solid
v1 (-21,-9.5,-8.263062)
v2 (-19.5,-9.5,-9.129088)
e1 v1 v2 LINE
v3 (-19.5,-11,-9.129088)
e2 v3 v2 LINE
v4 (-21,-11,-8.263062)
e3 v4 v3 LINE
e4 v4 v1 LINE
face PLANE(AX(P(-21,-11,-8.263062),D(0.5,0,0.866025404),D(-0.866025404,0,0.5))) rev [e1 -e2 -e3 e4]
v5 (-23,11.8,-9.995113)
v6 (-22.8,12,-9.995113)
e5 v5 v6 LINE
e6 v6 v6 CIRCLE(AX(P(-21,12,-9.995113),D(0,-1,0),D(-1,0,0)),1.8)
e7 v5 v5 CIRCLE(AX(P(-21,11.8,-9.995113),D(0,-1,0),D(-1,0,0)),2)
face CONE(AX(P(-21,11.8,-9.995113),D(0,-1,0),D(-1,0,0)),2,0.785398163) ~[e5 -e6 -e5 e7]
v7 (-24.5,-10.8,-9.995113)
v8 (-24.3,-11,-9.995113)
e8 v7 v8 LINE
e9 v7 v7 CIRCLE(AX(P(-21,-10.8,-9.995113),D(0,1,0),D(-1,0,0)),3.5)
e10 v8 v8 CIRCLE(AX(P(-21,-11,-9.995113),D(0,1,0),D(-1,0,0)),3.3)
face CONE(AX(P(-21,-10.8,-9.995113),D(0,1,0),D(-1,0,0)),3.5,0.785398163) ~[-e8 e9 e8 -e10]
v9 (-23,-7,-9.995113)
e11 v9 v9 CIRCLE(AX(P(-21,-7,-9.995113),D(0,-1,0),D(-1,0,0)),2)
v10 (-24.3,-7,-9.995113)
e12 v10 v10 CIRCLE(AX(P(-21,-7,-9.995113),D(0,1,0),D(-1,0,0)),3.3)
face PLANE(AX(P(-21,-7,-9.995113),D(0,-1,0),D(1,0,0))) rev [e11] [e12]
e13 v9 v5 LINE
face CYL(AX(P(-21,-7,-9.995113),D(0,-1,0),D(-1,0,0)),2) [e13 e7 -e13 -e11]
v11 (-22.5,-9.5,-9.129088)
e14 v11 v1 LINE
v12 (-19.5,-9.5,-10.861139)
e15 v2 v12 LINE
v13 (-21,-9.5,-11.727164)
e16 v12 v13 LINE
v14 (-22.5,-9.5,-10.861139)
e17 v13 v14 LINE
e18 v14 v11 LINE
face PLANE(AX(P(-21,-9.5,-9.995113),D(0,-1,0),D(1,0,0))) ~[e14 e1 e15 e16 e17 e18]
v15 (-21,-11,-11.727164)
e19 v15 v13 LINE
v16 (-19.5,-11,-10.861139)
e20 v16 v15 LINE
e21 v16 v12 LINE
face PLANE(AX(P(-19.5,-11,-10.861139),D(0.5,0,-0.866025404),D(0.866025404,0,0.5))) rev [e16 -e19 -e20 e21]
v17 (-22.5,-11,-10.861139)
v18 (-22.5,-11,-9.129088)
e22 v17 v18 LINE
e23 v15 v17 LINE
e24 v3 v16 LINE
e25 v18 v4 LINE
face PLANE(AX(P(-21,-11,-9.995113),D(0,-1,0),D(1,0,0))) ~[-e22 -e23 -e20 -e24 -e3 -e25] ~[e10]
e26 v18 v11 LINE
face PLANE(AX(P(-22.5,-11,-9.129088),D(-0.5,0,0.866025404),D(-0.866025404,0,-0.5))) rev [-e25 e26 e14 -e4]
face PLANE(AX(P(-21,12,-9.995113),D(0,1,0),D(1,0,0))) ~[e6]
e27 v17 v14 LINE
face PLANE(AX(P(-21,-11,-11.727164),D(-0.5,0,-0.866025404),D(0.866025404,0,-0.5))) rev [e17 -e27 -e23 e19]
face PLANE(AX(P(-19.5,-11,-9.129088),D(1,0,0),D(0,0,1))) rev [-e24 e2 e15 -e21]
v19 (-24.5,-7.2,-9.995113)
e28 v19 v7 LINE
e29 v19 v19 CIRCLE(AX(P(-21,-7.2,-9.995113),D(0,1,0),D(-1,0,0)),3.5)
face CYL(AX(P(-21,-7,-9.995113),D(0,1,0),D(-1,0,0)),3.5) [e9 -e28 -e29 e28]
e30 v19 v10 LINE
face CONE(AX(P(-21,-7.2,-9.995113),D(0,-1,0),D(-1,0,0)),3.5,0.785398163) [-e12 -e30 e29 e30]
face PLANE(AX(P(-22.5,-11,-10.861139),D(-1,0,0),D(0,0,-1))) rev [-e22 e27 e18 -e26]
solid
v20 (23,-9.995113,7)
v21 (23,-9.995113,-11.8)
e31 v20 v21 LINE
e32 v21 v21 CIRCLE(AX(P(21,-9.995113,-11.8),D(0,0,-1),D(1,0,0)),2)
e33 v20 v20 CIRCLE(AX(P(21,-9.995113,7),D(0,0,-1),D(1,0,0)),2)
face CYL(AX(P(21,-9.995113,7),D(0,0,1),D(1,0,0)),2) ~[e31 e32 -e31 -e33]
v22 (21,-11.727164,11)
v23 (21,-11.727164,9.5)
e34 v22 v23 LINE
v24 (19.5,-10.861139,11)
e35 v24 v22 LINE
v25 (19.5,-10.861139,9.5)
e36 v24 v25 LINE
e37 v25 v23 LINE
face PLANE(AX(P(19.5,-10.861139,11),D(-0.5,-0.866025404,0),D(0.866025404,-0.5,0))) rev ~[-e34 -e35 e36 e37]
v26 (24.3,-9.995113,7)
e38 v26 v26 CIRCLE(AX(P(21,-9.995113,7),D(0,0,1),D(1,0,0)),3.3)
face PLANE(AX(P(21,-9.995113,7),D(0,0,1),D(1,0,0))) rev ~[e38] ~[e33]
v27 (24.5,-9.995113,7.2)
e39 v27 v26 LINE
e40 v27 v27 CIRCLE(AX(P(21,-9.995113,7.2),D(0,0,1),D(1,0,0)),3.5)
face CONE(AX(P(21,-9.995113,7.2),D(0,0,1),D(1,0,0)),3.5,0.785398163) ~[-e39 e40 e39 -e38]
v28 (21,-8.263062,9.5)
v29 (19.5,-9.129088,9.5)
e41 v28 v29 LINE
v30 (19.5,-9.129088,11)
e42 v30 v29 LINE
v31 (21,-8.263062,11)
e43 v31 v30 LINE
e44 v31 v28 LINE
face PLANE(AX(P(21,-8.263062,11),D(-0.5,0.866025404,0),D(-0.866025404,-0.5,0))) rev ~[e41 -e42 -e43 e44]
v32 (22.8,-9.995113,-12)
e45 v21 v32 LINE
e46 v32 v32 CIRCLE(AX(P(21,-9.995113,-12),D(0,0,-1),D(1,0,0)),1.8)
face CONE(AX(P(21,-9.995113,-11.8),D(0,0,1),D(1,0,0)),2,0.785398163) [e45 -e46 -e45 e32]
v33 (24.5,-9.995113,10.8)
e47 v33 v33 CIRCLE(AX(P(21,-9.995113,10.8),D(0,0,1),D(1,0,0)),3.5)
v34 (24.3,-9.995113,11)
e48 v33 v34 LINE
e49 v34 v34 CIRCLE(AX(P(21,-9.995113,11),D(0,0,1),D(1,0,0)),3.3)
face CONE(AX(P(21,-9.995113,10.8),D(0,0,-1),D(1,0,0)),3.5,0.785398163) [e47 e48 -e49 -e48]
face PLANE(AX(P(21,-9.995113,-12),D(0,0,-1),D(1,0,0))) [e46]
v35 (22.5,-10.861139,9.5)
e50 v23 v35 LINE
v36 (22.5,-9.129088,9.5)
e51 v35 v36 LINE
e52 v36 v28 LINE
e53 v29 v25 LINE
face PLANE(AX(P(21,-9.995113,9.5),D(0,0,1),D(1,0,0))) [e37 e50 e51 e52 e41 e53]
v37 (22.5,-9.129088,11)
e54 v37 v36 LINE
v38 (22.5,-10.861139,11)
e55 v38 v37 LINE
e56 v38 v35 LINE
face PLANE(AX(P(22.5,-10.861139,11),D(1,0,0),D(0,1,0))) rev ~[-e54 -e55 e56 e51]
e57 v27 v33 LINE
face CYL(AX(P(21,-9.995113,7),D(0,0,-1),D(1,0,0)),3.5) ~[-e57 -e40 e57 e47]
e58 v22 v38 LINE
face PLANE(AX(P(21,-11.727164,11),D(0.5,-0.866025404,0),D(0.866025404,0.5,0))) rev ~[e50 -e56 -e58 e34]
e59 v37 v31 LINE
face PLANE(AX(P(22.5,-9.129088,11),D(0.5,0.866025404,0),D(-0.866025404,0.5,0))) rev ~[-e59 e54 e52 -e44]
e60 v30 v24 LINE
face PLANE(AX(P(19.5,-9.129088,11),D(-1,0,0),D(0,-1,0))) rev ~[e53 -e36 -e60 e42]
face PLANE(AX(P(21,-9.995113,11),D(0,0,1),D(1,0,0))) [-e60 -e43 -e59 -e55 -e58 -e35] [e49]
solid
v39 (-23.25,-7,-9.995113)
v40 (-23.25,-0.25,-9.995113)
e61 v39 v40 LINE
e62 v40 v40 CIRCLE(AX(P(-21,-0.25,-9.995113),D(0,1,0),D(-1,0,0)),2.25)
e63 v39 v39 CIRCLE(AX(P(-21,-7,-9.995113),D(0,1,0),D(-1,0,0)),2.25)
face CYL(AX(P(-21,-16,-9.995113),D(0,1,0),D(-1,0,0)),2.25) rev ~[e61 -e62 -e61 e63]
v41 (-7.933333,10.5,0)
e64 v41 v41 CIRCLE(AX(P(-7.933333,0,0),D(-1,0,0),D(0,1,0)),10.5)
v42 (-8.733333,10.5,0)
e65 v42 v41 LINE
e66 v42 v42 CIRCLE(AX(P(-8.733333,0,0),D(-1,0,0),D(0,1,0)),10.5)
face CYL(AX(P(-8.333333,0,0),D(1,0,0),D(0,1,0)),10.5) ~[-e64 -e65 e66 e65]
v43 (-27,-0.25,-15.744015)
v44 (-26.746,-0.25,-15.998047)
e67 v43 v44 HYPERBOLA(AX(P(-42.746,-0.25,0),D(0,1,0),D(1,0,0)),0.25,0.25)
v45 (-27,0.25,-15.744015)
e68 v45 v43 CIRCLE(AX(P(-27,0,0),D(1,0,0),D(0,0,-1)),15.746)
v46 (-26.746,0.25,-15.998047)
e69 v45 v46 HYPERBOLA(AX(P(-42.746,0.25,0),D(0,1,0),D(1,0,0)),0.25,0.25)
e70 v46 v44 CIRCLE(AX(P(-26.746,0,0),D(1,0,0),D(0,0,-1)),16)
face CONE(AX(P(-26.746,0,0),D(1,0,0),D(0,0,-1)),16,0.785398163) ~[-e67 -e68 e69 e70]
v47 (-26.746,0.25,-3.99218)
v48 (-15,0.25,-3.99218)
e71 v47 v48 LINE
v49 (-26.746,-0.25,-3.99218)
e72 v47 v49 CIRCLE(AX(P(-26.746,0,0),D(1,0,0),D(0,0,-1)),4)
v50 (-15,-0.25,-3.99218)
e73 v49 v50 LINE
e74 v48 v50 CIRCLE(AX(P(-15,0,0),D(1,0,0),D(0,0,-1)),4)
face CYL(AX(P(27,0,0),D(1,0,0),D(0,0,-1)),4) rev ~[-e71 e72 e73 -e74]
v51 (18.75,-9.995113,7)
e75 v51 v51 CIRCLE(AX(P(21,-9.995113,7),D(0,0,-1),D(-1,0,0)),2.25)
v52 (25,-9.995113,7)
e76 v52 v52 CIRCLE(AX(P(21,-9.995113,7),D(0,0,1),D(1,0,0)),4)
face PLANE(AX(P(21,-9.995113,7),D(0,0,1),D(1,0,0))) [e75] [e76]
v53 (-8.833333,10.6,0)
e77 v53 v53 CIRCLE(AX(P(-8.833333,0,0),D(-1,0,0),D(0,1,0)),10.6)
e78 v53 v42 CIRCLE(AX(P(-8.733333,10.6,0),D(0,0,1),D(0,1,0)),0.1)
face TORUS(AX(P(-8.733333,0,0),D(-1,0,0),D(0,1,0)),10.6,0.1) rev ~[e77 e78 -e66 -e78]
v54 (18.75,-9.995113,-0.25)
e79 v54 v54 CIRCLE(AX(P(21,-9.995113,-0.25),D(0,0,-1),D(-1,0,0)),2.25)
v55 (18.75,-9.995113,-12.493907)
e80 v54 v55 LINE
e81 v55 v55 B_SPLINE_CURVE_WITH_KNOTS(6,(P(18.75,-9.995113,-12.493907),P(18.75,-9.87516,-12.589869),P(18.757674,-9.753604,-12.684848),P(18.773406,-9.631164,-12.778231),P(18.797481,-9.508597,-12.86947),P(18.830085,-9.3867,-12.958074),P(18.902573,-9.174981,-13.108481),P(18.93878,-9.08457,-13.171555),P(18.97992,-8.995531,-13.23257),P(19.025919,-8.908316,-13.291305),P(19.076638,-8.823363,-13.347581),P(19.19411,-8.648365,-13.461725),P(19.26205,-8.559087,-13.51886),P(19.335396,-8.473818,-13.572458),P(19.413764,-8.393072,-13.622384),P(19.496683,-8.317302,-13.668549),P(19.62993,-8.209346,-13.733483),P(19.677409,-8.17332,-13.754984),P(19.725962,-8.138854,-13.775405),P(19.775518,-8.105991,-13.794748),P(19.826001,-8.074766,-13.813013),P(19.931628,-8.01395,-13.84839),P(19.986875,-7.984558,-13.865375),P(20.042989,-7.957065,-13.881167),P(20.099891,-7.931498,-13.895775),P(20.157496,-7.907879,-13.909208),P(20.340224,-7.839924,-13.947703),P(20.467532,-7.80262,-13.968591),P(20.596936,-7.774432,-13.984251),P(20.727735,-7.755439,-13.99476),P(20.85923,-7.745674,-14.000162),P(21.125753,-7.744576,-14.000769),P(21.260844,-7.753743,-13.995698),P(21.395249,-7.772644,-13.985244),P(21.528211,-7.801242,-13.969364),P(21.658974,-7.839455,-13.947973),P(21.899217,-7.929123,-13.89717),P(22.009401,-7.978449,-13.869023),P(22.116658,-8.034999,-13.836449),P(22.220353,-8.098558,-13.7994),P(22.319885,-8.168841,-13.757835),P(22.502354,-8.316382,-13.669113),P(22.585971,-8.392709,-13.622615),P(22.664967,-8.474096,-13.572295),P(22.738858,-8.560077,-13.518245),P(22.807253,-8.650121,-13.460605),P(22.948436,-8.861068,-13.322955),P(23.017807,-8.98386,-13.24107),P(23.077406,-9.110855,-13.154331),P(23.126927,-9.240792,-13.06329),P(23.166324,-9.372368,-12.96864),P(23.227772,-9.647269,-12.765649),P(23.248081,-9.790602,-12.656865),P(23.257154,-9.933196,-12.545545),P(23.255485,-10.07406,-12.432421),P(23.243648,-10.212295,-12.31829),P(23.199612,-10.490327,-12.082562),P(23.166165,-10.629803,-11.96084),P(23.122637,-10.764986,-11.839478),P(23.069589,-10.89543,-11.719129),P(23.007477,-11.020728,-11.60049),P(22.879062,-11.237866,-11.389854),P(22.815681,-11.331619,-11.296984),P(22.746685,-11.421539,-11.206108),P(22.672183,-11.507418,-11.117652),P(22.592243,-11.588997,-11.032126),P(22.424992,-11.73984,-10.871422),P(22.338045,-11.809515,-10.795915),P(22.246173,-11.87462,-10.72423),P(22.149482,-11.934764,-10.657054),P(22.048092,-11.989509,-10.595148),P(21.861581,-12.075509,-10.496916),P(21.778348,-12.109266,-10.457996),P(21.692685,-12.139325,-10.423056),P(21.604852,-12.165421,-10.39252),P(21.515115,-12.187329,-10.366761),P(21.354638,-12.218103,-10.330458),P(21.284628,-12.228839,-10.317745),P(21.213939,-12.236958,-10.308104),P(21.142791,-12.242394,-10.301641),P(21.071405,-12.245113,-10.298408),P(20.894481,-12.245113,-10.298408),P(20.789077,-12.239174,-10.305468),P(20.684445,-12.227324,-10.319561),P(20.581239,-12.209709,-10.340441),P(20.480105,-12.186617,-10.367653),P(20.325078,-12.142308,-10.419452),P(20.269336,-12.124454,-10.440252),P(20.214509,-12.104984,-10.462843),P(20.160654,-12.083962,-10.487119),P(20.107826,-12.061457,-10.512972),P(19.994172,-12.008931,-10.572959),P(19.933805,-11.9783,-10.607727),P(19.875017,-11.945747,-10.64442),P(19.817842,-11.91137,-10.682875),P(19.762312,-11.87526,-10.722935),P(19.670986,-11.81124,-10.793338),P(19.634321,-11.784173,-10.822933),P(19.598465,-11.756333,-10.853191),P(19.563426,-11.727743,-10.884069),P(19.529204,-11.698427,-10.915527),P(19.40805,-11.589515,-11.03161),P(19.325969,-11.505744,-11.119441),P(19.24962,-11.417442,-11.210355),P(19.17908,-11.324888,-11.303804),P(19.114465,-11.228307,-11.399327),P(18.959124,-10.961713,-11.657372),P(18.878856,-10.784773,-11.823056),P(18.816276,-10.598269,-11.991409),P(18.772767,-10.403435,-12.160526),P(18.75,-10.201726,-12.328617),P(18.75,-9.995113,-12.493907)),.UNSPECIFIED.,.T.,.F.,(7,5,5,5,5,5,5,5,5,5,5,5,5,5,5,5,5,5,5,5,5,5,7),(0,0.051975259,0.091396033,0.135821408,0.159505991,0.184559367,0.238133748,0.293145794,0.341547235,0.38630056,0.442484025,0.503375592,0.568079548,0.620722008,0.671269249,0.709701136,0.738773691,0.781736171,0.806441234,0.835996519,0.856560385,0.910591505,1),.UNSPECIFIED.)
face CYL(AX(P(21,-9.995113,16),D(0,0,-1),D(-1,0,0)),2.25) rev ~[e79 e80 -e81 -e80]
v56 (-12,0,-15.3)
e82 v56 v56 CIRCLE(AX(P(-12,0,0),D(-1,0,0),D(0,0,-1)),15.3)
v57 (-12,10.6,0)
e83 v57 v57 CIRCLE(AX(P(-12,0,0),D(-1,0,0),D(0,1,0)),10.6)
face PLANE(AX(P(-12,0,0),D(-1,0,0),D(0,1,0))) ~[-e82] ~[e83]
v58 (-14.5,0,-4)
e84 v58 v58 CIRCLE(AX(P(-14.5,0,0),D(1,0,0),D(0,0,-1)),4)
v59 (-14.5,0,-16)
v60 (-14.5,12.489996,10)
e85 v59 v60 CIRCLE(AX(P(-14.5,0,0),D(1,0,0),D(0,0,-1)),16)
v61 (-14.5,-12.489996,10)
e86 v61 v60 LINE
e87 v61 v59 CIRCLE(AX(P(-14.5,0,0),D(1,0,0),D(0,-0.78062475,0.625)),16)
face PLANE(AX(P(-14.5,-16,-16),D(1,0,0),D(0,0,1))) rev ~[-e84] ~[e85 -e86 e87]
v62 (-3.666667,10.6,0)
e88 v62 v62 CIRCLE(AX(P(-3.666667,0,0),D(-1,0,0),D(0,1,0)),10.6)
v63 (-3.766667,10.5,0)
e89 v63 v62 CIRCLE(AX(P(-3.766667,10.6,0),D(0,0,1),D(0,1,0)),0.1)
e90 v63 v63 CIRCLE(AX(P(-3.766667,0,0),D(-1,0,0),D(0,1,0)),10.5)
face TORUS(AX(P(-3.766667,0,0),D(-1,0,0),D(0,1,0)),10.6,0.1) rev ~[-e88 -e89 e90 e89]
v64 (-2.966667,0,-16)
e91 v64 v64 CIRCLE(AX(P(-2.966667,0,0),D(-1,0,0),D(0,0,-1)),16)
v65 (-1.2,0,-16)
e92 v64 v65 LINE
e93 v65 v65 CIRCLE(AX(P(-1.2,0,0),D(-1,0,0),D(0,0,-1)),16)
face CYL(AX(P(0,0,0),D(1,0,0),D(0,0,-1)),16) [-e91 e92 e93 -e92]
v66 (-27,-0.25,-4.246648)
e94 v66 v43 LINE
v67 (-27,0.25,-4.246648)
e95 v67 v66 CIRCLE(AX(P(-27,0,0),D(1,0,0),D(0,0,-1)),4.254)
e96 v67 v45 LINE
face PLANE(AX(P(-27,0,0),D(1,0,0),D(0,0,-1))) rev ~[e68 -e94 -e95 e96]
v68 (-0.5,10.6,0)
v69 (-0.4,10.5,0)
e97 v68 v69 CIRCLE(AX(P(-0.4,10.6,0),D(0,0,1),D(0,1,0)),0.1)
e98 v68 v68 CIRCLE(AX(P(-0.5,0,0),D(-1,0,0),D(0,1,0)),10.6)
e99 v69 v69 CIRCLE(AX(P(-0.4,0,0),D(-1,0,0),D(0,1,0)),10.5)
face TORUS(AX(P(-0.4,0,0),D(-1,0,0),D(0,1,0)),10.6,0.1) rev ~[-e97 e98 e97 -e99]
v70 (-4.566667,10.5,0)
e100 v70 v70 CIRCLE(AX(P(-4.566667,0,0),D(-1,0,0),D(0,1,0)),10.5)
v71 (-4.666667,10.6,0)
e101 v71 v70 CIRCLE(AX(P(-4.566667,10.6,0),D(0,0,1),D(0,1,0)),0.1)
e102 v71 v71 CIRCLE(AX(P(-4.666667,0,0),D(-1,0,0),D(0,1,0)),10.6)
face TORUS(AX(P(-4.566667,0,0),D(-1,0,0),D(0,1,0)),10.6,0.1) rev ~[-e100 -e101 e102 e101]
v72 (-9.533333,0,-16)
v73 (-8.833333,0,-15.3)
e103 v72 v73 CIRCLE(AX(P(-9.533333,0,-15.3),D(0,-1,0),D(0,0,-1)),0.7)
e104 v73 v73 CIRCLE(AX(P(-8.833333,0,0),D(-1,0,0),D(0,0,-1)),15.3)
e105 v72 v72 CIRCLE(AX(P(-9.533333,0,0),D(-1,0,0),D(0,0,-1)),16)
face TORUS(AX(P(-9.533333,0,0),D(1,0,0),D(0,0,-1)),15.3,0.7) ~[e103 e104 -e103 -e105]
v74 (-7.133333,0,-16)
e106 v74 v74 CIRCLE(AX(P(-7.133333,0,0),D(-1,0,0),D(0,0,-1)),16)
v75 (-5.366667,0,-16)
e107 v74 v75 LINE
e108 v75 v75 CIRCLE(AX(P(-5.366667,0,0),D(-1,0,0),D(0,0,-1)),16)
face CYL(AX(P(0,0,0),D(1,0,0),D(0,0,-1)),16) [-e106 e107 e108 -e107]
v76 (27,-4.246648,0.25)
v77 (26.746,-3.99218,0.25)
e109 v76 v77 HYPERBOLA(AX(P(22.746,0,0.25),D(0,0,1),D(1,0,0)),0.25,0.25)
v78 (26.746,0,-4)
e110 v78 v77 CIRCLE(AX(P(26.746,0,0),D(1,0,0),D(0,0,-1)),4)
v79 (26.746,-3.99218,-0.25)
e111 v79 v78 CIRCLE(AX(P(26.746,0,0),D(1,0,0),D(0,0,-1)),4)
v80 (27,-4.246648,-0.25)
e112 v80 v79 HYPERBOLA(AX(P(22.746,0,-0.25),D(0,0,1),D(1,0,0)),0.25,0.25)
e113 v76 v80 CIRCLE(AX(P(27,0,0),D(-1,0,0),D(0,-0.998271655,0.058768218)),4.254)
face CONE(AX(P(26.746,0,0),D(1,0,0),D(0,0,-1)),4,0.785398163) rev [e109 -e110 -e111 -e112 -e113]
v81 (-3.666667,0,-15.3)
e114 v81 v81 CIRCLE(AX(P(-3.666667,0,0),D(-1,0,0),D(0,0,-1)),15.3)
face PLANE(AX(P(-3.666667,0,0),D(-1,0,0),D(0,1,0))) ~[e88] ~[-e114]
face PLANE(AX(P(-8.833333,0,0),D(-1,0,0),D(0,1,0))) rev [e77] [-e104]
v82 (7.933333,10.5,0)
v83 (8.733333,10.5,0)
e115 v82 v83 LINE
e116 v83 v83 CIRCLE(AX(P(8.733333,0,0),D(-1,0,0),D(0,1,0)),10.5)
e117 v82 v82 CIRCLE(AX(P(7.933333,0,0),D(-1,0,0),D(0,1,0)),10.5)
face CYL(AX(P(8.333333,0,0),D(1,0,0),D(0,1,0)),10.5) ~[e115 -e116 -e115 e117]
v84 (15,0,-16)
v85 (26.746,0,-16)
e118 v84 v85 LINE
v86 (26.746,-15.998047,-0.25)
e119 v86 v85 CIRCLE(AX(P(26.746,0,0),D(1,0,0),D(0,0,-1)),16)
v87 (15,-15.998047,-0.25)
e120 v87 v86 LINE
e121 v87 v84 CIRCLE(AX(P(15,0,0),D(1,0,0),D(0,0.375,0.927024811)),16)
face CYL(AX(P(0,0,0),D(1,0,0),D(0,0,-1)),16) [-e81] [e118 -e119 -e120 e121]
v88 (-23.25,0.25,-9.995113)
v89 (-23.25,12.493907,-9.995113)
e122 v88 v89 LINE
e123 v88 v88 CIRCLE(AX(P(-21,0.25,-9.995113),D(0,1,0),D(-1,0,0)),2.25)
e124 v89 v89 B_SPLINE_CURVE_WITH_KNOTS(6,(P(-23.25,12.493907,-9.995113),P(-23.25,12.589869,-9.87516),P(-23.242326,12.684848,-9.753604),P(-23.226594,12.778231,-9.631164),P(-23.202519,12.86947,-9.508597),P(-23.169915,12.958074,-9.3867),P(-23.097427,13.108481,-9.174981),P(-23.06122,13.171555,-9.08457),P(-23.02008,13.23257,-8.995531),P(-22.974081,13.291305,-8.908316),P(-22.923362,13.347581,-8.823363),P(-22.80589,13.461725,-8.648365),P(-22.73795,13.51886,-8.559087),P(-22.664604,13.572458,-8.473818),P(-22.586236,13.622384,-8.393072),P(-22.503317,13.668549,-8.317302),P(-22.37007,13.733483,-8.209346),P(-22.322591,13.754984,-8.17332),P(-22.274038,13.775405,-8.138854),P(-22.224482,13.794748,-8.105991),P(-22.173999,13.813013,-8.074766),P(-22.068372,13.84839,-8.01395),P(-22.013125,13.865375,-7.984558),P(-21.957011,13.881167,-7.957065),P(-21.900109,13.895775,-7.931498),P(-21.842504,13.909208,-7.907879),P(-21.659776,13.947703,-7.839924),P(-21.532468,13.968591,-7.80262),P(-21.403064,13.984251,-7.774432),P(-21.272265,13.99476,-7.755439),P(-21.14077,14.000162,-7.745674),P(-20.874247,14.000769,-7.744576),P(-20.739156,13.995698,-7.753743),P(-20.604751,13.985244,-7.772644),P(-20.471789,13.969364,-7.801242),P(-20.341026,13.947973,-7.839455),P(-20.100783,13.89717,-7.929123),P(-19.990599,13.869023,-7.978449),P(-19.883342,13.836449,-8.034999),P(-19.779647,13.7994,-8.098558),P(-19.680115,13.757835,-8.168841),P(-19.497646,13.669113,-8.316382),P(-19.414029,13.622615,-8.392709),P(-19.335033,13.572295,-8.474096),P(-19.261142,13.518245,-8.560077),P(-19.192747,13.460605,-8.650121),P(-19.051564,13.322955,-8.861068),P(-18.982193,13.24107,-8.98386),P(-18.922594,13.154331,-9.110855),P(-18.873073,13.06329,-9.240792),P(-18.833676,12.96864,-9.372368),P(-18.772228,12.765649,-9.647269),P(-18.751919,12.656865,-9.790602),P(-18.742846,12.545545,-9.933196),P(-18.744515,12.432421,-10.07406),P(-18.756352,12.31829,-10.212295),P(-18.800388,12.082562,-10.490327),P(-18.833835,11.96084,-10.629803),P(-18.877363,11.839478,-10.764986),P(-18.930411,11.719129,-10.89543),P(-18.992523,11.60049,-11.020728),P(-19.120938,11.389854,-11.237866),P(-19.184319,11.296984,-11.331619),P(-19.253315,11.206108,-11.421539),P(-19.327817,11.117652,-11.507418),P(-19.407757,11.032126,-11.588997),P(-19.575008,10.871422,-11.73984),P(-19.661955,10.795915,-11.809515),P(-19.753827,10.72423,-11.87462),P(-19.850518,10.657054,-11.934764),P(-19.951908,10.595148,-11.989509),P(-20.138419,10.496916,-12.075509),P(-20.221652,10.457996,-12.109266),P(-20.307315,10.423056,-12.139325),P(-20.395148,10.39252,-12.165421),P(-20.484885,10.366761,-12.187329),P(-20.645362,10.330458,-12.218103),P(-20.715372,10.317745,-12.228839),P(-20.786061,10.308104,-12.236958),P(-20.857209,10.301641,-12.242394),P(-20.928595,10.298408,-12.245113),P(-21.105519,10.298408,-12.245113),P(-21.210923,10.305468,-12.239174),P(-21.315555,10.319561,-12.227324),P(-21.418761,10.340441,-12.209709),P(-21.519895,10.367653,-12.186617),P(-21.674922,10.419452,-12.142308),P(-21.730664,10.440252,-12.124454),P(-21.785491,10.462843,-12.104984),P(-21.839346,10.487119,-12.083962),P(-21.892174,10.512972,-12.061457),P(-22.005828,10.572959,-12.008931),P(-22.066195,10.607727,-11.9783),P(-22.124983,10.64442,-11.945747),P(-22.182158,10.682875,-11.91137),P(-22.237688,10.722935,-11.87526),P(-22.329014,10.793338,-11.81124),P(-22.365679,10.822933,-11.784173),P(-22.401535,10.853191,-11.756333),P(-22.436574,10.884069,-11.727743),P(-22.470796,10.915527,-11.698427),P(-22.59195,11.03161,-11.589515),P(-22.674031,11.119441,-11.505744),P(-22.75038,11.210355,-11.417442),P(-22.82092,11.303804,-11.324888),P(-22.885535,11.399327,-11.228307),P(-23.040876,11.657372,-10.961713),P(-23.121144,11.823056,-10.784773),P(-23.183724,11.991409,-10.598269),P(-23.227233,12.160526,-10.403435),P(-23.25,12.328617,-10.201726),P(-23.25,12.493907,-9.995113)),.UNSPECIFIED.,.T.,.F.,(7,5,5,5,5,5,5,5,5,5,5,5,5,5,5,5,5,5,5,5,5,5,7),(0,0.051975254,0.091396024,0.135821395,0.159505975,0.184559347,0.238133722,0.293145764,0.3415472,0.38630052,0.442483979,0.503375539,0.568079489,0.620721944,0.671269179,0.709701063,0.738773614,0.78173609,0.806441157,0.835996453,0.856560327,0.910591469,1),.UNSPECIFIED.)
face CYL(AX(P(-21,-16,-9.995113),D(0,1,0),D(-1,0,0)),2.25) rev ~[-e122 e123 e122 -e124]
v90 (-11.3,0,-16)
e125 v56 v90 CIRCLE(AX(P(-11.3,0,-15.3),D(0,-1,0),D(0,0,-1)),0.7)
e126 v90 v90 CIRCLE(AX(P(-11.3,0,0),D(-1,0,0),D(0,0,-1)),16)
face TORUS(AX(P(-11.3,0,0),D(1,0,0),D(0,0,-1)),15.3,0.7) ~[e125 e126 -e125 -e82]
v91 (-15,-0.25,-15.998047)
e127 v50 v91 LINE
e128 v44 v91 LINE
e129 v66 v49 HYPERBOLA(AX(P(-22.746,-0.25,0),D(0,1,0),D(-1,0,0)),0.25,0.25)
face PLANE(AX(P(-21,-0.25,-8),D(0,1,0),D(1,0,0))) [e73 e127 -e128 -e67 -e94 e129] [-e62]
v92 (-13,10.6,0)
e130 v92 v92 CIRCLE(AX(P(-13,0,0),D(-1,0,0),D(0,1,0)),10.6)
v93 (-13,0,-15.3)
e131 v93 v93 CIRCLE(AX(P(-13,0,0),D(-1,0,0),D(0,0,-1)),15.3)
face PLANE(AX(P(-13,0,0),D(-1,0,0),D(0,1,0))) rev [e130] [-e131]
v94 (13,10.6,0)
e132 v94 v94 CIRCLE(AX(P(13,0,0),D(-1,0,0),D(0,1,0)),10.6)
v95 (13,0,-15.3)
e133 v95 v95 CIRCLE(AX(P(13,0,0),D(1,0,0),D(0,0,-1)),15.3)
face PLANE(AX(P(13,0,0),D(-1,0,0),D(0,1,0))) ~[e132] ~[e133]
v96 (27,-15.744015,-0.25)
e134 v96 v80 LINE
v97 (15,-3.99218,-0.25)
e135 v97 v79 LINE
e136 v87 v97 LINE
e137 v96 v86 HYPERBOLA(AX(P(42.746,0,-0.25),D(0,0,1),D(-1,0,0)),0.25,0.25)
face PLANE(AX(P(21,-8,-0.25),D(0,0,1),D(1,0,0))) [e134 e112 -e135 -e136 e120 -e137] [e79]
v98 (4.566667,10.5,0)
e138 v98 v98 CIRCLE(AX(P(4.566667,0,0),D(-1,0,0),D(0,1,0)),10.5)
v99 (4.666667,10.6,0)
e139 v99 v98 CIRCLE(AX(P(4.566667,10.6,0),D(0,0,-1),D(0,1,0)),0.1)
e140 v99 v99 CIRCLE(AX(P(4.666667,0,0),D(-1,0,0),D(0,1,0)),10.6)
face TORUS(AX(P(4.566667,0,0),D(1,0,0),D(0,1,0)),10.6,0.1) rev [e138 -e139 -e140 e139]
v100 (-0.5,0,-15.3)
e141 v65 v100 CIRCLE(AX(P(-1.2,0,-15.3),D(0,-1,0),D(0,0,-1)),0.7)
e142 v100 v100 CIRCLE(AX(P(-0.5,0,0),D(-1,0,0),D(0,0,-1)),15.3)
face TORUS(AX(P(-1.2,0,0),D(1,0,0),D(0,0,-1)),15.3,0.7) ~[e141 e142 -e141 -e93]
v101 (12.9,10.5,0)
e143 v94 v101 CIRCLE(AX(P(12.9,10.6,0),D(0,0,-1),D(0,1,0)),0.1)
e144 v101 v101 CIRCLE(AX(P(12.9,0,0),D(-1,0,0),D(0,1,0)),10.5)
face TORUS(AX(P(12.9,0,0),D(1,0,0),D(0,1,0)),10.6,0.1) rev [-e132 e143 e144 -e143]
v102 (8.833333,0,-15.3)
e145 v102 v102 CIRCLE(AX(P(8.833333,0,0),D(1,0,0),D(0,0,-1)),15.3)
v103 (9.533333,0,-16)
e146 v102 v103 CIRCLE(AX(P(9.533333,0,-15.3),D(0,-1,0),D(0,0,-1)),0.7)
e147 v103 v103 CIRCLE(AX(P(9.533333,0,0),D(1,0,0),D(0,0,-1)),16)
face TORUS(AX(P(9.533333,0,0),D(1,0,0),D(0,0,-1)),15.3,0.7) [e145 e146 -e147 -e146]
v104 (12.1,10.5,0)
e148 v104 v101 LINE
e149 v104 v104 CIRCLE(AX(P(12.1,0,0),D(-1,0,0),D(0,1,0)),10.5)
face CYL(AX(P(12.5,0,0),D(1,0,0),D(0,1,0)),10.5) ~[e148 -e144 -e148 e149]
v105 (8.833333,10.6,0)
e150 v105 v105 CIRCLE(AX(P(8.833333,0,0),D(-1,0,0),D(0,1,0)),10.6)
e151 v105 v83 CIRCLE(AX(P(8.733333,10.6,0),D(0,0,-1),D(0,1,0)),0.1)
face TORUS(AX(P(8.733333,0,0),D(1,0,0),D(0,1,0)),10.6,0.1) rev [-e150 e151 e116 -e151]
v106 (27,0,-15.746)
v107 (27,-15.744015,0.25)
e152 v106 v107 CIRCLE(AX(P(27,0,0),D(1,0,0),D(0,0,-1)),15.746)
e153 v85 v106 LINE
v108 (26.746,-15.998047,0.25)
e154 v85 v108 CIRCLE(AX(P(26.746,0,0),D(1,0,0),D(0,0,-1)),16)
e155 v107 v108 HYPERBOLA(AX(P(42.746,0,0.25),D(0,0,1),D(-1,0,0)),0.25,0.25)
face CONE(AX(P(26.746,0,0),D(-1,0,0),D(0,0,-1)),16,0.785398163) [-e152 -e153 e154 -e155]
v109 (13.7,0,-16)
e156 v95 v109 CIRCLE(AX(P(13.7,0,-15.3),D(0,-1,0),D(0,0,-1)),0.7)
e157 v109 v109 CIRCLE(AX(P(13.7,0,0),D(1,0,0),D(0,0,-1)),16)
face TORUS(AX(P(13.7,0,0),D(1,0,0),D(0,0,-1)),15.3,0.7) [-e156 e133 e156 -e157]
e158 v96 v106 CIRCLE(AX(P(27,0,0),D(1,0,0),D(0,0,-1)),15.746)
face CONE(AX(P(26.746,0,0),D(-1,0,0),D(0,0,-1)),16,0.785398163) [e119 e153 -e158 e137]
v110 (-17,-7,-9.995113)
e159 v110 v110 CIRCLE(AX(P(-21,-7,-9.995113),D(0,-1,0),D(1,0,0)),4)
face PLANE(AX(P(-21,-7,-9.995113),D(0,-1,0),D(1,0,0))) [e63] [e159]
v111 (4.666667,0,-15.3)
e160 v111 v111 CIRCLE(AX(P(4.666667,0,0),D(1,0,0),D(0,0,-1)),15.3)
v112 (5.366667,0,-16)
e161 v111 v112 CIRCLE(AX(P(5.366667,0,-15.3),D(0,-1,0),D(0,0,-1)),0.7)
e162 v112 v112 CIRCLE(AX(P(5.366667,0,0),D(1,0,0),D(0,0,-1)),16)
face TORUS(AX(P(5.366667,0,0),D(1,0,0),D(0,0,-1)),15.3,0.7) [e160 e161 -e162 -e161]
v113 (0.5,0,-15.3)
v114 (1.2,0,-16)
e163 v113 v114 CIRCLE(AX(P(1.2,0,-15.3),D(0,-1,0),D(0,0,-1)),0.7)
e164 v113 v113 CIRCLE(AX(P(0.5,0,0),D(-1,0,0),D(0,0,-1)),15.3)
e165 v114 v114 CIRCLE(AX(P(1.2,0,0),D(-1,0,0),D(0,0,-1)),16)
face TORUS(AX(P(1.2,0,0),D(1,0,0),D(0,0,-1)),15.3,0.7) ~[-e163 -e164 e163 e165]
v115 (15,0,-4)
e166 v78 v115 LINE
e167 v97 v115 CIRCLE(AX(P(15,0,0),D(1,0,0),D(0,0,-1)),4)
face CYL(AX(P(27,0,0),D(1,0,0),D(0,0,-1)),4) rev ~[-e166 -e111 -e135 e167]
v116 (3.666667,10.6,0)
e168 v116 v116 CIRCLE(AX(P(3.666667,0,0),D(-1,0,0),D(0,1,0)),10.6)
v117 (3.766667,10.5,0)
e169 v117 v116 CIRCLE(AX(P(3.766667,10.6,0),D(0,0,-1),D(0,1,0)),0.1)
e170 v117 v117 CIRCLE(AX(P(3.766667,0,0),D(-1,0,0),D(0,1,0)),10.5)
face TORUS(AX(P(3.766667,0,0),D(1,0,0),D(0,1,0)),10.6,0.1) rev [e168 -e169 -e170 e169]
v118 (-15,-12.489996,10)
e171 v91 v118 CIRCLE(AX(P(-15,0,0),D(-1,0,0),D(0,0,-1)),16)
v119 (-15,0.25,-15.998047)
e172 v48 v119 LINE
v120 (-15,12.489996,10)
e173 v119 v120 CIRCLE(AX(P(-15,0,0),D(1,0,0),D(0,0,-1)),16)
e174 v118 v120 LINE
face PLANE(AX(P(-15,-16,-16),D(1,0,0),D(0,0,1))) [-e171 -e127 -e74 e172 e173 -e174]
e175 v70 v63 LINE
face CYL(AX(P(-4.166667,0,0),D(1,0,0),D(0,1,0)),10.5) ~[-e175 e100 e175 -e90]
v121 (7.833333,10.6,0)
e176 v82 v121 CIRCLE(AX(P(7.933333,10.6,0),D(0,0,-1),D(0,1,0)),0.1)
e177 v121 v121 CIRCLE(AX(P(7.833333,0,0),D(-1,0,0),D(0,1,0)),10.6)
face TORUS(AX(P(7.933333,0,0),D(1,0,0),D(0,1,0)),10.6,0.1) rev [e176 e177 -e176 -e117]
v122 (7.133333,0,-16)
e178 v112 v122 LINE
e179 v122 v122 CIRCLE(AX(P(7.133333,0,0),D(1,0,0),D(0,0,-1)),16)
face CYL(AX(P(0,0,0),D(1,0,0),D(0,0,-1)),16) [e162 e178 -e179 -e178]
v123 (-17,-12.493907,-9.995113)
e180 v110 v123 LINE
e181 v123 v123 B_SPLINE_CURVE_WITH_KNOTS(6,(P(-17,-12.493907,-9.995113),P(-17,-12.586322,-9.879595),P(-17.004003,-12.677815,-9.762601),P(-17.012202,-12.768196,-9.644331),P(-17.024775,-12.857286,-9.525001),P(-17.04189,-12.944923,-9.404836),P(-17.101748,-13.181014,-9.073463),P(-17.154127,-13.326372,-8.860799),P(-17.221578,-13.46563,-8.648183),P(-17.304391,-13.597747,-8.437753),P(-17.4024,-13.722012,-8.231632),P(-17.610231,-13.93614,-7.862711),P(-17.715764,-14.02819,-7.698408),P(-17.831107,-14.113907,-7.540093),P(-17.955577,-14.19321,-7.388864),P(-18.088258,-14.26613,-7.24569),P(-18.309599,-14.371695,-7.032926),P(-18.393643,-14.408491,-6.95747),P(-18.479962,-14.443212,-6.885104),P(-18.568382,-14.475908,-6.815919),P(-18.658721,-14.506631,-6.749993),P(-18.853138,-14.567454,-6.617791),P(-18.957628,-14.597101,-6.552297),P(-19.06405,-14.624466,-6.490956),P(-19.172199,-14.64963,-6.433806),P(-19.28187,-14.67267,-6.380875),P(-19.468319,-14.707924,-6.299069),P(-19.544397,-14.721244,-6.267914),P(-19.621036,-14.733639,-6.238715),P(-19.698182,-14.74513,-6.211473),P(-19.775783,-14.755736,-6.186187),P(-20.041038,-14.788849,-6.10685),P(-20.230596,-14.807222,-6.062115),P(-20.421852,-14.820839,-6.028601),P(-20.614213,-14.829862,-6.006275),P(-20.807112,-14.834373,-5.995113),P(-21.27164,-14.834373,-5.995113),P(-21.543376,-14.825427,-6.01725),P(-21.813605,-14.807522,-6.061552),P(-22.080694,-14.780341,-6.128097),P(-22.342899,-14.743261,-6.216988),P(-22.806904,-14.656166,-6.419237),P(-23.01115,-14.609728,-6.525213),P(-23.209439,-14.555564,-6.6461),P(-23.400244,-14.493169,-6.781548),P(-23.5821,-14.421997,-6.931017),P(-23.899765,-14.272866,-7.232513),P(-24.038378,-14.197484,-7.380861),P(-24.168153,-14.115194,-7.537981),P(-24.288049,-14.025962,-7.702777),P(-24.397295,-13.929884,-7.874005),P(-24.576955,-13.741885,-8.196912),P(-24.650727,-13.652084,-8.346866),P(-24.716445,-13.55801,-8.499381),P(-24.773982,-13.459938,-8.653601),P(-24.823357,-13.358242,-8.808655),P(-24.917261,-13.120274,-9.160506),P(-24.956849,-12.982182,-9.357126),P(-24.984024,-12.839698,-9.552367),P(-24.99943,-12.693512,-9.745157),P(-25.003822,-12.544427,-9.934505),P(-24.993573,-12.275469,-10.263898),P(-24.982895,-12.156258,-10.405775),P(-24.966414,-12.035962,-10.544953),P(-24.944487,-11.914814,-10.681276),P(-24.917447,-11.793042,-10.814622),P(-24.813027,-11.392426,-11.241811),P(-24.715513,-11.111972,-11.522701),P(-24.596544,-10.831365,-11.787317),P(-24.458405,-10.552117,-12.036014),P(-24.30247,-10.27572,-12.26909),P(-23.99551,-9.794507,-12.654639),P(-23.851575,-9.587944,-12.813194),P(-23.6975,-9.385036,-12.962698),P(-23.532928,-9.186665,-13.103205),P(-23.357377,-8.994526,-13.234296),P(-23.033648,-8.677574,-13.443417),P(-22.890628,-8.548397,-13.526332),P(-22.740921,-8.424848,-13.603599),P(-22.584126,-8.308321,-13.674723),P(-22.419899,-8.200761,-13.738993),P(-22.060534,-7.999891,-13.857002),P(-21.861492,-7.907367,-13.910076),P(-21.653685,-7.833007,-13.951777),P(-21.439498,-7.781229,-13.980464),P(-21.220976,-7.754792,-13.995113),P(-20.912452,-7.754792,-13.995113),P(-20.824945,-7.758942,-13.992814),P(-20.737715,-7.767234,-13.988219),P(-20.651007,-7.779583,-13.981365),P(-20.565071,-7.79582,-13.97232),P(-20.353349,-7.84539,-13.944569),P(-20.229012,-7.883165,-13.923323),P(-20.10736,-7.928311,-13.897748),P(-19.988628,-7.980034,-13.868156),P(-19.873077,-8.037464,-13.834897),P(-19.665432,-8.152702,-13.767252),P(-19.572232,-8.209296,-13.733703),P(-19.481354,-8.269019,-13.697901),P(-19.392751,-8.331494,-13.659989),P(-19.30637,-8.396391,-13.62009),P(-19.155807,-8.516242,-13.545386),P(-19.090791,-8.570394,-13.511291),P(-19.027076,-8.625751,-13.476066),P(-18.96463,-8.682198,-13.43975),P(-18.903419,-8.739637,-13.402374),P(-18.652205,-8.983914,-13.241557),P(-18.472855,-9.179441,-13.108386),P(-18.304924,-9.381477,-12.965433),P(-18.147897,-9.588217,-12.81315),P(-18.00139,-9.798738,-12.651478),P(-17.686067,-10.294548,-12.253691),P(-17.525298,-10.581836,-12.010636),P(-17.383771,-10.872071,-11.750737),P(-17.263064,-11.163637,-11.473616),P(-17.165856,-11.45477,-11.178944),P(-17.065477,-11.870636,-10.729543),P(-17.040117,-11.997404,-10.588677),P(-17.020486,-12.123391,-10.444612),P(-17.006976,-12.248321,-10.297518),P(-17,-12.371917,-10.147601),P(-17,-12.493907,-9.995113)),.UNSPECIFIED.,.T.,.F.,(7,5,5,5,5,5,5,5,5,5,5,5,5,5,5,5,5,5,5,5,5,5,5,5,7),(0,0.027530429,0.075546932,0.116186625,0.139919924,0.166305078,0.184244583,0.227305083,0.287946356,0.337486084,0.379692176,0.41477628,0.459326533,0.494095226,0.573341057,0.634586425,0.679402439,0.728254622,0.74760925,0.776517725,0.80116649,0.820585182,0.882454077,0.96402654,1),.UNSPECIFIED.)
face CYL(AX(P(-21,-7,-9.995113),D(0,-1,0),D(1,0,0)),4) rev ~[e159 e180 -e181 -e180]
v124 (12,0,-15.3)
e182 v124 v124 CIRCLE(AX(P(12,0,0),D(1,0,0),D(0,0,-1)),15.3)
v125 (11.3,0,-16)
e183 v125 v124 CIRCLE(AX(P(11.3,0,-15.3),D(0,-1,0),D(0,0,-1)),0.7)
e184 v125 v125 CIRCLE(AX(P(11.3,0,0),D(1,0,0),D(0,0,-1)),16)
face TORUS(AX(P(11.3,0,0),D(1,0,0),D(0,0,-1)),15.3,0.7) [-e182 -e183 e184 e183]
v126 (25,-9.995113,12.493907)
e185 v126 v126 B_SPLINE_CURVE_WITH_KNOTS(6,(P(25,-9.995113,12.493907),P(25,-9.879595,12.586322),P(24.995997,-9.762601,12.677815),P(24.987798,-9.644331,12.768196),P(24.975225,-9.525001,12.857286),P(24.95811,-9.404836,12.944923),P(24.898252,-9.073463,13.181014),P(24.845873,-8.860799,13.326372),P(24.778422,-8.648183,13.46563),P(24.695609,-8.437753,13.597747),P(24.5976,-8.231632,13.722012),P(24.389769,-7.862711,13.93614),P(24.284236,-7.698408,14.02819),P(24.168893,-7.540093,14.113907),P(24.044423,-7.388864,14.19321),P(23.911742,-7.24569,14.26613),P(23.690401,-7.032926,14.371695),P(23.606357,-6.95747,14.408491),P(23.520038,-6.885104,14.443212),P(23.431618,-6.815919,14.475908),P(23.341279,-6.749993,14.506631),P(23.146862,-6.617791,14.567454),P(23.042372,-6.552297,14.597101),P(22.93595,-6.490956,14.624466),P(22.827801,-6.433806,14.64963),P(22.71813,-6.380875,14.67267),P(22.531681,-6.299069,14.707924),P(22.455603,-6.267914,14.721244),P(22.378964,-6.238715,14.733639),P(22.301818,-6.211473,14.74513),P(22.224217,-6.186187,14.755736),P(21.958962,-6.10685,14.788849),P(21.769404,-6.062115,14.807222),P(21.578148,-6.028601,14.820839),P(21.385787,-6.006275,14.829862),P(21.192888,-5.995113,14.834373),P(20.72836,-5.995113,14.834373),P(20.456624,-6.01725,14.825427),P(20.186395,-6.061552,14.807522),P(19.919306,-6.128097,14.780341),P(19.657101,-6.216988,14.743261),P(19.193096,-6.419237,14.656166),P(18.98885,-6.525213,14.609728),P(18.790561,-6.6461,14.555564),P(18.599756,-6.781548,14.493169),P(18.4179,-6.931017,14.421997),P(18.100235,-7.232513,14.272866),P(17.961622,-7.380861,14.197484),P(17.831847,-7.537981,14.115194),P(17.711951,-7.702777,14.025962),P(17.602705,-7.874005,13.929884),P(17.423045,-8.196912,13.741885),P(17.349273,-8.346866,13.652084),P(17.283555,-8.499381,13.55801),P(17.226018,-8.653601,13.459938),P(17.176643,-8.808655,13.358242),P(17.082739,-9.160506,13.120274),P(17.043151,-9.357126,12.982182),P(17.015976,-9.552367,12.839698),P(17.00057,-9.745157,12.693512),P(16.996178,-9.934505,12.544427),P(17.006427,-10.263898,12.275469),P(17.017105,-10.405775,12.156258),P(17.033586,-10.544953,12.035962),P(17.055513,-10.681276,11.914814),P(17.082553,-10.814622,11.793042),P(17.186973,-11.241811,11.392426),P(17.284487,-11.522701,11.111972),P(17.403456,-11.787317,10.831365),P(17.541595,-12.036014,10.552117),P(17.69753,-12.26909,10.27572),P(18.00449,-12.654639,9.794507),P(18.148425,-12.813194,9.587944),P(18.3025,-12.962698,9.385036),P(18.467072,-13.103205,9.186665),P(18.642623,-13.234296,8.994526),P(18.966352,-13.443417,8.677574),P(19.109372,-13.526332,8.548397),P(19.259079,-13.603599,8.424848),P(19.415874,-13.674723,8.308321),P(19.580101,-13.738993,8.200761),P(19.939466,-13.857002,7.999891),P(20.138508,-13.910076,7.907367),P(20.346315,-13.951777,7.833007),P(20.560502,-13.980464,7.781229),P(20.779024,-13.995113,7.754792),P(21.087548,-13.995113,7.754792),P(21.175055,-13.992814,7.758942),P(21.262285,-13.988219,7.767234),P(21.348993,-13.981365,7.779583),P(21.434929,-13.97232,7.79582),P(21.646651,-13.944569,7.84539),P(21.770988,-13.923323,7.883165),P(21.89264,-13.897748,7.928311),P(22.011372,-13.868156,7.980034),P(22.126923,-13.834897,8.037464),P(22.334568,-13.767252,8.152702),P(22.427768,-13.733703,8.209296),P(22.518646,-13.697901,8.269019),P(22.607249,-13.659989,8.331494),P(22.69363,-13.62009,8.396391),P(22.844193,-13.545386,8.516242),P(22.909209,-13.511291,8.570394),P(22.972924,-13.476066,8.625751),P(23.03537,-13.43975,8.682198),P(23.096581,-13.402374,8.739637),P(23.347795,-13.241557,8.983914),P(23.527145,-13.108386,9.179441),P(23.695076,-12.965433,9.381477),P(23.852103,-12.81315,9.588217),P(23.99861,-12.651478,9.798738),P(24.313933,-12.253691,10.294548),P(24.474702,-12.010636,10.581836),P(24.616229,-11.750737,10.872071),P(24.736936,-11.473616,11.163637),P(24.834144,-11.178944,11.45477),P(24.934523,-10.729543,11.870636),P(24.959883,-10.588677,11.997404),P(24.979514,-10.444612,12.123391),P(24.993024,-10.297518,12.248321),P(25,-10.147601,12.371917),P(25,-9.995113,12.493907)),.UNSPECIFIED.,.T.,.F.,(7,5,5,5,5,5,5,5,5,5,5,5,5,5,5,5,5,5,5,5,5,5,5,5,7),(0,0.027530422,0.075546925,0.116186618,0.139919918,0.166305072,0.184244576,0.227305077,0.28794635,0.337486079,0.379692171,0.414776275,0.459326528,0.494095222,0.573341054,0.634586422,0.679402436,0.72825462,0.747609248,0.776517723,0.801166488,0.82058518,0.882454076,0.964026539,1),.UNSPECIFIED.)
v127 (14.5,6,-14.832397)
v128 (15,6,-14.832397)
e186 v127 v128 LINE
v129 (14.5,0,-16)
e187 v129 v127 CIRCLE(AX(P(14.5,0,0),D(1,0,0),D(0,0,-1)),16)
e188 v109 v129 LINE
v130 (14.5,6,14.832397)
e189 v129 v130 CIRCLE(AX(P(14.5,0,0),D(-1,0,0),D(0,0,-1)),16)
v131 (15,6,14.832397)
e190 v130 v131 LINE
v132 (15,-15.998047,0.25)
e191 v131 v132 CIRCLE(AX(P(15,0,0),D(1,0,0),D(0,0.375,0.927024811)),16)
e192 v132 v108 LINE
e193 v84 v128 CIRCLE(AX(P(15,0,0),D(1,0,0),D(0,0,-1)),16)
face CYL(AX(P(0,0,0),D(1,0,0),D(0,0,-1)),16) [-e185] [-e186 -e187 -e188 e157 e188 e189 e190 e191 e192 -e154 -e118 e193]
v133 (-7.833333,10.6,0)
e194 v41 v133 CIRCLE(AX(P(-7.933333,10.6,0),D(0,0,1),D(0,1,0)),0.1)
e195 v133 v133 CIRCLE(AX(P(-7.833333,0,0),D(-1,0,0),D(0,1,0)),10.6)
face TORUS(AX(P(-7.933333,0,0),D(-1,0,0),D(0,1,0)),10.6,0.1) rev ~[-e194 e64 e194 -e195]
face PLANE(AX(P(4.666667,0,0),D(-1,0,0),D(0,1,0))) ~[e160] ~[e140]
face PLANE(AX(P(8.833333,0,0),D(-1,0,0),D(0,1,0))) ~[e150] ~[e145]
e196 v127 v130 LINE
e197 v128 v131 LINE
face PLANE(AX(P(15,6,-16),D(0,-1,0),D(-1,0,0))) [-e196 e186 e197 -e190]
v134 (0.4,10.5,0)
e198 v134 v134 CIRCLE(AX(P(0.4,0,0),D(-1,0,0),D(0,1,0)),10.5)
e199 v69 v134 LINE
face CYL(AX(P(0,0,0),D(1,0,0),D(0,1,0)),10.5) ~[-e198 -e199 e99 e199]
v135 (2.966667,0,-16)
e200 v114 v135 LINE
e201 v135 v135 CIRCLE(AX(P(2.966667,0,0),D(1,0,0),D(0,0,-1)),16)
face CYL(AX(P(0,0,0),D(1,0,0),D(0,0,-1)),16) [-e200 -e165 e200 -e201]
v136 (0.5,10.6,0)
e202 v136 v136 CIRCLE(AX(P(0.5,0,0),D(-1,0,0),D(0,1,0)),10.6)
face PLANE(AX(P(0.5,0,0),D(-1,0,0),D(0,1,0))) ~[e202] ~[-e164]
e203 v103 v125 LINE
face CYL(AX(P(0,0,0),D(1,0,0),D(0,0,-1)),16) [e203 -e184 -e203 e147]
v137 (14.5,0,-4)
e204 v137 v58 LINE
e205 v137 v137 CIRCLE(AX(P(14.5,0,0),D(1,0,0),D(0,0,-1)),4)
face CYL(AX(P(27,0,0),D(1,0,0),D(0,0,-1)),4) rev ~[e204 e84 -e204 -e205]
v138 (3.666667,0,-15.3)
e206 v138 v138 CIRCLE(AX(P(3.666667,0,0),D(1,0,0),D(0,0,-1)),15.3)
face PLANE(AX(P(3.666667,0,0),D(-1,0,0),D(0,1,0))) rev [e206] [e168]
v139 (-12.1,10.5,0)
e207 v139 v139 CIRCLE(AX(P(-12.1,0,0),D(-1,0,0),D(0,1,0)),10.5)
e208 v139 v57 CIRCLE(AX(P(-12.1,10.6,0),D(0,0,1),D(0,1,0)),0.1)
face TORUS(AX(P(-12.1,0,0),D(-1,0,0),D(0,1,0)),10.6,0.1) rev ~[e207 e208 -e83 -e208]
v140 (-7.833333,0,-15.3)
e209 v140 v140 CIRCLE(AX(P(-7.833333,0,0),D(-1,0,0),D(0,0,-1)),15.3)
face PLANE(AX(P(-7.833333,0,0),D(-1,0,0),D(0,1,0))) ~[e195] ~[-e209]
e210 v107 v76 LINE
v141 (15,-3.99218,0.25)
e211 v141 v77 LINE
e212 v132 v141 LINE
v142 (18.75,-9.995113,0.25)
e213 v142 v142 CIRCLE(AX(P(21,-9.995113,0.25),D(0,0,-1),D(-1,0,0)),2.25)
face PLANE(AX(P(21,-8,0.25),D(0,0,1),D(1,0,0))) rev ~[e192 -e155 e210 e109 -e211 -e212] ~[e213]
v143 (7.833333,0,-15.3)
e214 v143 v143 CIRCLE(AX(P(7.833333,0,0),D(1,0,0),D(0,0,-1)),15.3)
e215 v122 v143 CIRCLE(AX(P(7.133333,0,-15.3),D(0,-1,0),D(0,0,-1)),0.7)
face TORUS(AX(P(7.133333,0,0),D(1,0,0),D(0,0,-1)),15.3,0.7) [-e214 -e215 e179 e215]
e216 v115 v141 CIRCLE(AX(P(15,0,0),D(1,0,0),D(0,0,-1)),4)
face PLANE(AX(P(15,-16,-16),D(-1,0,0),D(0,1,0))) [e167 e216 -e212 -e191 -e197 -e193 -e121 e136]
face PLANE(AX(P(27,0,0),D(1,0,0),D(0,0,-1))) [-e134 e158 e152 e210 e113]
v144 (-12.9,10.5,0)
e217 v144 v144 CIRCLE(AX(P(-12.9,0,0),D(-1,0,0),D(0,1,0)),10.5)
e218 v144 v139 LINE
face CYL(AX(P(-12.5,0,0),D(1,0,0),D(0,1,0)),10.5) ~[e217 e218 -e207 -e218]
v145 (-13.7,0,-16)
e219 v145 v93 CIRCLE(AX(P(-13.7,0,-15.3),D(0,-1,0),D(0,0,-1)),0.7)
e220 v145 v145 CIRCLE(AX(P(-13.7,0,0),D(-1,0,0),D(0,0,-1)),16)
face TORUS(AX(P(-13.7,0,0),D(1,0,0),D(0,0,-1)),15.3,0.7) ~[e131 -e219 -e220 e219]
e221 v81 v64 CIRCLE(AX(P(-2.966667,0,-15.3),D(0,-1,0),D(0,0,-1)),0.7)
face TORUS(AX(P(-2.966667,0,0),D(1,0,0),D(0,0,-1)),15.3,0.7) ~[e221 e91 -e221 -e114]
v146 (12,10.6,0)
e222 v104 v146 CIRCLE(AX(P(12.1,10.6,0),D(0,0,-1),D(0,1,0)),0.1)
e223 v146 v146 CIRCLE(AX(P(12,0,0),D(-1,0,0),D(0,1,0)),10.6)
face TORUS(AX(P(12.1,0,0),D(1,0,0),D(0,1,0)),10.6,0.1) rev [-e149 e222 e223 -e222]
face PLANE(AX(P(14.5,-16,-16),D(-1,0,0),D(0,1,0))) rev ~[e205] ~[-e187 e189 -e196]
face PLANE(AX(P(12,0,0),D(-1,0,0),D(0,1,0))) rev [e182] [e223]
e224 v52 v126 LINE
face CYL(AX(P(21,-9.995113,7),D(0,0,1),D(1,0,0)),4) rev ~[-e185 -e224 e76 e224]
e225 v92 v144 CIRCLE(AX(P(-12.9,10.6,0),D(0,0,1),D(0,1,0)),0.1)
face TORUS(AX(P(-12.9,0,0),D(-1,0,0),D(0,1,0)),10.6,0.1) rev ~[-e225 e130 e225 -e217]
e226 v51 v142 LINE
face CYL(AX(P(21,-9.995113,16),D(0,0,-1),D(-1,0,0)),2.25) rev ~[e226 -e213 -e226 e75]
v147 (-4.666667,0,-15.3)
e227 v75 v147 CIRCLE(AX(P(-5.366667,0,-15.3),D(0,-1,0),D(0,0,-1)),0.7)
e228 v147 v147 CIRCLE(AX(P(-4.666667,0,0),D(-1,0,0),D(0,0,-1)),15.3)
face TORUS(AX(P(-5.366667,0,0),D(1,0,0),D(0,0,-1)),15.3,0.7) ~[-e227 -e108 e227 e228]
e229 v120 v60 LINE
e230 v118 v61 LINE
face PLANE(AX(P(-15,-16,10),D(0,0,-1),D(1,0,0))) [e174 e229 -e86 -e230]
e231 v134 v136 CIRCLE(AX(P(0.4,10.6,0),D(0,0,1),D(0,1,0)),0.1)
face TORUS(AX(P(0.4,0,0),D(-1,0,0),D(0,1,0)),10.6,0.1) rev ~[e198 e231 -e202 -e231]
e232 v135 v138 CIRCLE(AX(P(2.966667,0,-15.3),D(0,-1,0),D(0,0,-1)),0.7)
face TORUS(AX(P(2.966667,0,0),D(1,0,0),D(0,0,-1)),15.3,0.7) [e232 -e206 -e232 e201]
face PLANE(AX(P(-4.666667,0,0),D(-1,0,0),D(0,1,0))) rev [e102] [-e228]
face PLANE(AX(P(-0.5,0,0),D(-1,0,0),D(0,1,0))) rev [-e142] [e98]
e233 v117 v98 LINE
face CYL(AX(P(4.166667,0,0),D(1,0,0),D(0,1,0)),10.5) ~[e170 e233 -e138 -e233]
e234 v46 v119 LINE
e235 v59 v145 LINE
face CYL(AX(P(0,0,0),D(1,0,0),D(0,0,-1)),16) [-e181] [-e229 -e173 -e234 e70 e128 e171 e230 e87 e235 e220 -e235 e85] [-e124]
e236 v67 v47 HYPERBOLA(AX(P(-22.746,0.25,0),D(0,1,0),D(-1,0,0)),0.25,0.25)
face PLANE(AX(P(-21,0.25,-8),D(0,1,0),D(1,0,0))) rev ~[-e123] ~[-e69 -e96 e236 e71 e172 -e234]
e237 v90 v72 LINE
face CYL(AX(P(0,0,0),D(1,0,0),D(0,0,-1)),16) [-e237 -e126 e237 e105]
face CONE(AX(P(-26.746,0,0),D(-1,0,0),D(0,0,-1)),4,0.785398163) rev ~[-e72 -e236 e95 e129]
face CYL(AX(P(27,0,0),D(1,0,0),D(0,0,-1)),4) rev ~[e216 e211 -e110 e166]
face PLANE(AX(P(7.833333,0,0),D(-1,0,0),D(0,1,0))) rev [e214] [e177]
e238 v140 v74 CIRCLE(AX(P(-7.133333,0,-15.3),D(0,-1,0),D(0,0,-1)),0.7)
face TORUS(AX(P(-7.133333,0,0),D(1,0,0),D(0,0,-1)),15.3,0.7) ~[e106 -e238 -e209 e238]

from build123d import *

# Parameters (mm, degrees)
SKETCH1_R                      = 16
BOSS_EXTRUDE1_DEPTH            = 27
SKETCH2_R                      = 4
CUT_EXTRUDE1_DEPTH             = 59.549124673
CHAMFER1_SIZE                  = 0.254
SKETCH4_W                      = 0.5
SKETCH4_H                      = 26
CUT_EXTRUDE2_DEPTH             = 45.821869662
SKETCH7_W                      = 0.5
SKETCH7_H                      = 22
CUT_EXTRUDE3_DEPTH             = 45.821869662
SKETCH8_W                      = 12
SKETCH8_H                      = 16
CUT_EXTRUDE5_DEPTH             = 0.25
SKETCH13_W                     = 12
SKETCH13_H                     = 16
CUT_EXTRUDE6_DEPTH             = 0.25
CBORE_FOR_M4_SHCS1_D           = 4.5
CBORE_FOR_M4_SHCS1_CBORE_D     = 8
CBORE_FOR_M4_SHCS1_CBORE_DEPTH = 9
CBORE_FOR_M4_SHCS2_D           = 4.5
CBORE_FOR_M4_SHCS2_CBORE_D     = 8
CBORE_FOR_M4_SHCS2_CBORE_DEPTH = 9
SKETCH16_R                     = 3.5
BOSS_EXTRUDE2_DEPTH            = 4
SKETCH17_R                     = 2
BOSS_EXTRUDE3_DEPTH            = 19
CHAMFER2_SIZE                  = 0.2
CUT_EXTRUDE7_DEPTH             = 1.5
CIRPATTERN1_COUNT              = 2
CIRPATTERN1_ANGLE              = 90
SKETCH19_W                     = 1
SKETCH19_H                     = 5.5
FILLET1_R                      = 0.7
FILLET2_R                      = 0.1


with BuildPart() as part:
    # Sketch1 → Boss-Extrude1 (new, symmetric)
    with BuildSketch(Plane(origin=(0, 0, 0), x_dir=(0, 0, -1), z_dir=(1, 0, 0))):
        Circle(SKETCH1_R)
    extrude(amount=BOSS_EXTRUDE1_DEPTH, both=True)

    # Sketch2 → Cut-Extrude1 (cut, through all)
    with BuildSketch(Plane(origin=(27, 0, 0), x_dir=(0, 0, -1), z_dir=(1, 0, 0))):
        Circle(SKETCH2_R)
    extrude(amount=-CUT_EXTRUDE1_DEPTH, mode=Mode.SUBTRACT)

    # Chamfer1
    chamfer1_edges = [part.edges().sort_by_distance(p)[0] for p in [
        (-27, 0, 16),
        (27, 0, 16),
        (-27, 0, 4),
        (27, 0, 4),
    ]]
    chamfer(chamfer1_edges, length=CHAMFER1_SIZE)

    # Sketch4 → Cut-Extrude2 (cut, through all)
    with BuildSketch(Plane.XZ.offset(16)):
        with Locations((-14.75, -3)):
            Rectangle(SKETCH4_W, SKETCH4_H)
    extrude(amount=-CUT_EXTRUDE2_DEPTH, mode=Mode.SUBTRACT)

    # Sketch7 → Cut-Extrude3 (cut, through all)
    with BuildSketch(Plane(origin=(0, 0, -16), x_dir=(-1, 0, 0), z_dir=(0, 0, -1))):
        with Locations((-14.75, -5)):
            Rectangle(SKETCH7_W, SKETCH7_H)
    extrude(amount=-CUT_EXTRUDE3_DEPTH, mode=Mode.SUBTRACT)

    # Sketch8 → Cut-Extrude5 (cut, symmetric)
    with BuildSketch(Plane(origin=(0, 0, 0), x_dir=(1, 0, 0), z_dir=(0, 1, 0))):
        with Locations((-21, 8)):
            Rectangle(SKETCH8_W, SKETCH8_H)
    extrude(amount=CUT_EXTRUDE5_DEPTH, both=True, mode=Mode.SUBTRACT)

    # Sketch13 → Cut-Extrude6 (cut, symmetric)
    with BuildSketch(Plane.XY):
        with Locations((21, -8)):
            Rectangle(SKETCH13_W, SKETCH13_H)
    extrude(amount=CUT_EXTRUDE6_DEPTH, both=True, mode=Mode.SUBTRACT)

    # CBORE for M4 SHCS1 (through all)
    with Locations(Plane.XZ.offset(16)):
        with Locations((-21, -9.995113306)):
            CounterBoreHole(CBORE_FOR_M4_SHCS1_D / 2, CBORE_FOR_M4_SHCS1_CBORE_D / 2, CBORE_FOR_M4_SHCS1_CBORE_DEPTH)

    # CBORE for M4 SHCS2 (through all)
    with Locations(Plane.XY.offset(16)):
        with Locations((21, -9.995113306)):
            CounterBoreHole(CBORE_FOR_M4_SHCS2_D / 2, CBORE_FOR_M4_SHCS2_CBORE_D / 2, CBORE_FOR_M4_SHCS2_CBORE_DEPTH)

    # Sketch19 → Cut-Revolve1 (revolve, cut)
    with BuildSketch(Plane.XY):
        with Locations((0, 13.25)):
            Rectangle(SKETCH19_W, SKETCH19_H)
        with Locations((4.166666667, 13.25)):
            Rectangle(SKETCH19_W, SKETCH19_H)
        with Locations((8.333333333, 13.25)):
            Rectangle(SKETCH19_W, SKETCH19_H)
        with Locations((12.5, 13.25)):
            Rectangle(SKETCH19_W, SKETCH19_H)
        with Locations((-12.5, 13.25)):
            Rectangle(SKETCH19_W, SKETCH19_H)
        with Locations((-8.333333333, 13.25)):
            Rectangle(SKETCH19_W, SKETCH19_H)
        with Locations((-4.166666667, 13.25)):
            Rectangle(SKETCH19_W, SKETCH19_H)
    revolve(axis=Axis((0, 0, 0), (-1, 0, 0)), mode=Mode.SUBTRACT)

    # Fillet1
    fillet1_edges = [part.edges().sort_by_distance(p)[0] for p in [
        (0.5, 0, 16),
        (-0.5, 0, 16),
        (-13, 0, 16),
        (-12, 0, 16),
        (4.666666667, 0, 16),
        (3.666666667, 0, 16),
        (8.833333333, 0, 16),
        (7.833333333, 0, 16),
        (13, 0, 16),
        (12, 0, 16),
        (-8.833333333, 0, 16),
        (-7.833333333, 0, 16),
        (-4.666666667, 0, 16),
        (-3.666666667, 0, 16),
    ]]
    fillet(fillet1_edges, radius=FILLET1_R)

    # Fillet2
    fillet2_edges = [part.edges().sort_by_distance(p)[0] for p in [
        (-0.5, -10.5, 0),
        (0.5, -10.5, 0),
        (-13, -10.5, 0),
        (-12, -10.5, 0),
        (3.666666667, -10.5, 0),
        (4.666666667, -10.5, 0),
        (7.833333333, -10.5, 0),
        (8.833333333, -10.5, 0),
        (12, -10.5, 0),
        (13, -10.5, 0),
        (-8.833333333, -10.5, 0),
        (-7.833333333, -10.5, 0),
        (-4.666666667, -10.5, 0),
        (-3.666666667, -10.5, 0),
    ]]
    fillet(fillet2_edges, radius=FILLET2_R)


with BuildPart() as body_2:
    # Sketch16 → Boss-Extrude2 (new body)
    with BuildSketch(Plane.XY.offset(7)):
        with Locations((21, -9.995113306)):
            Circle(SKETCH16_R)
    extrude(amount=BOSS_EXTRUDE2_DEPTH)

    # Sketch17 → Boss-Extrude3 (add)
    with BuildSketch(Plane(origin=(0, 0, 7), x_dir=(-1, 0, 0), z_dir=(0, 0, -1))):
        with Locations(Location((-21, -9.995113306, 0), (0, 0, 180))):
            Circle(SKETCH17_R)
    extrude(amount=BOSS_EXTRUDE3_DEPTH)

    # Chamfer2
    chamfer2_edges = [body_2.edges().sort_by_distance(p)[0] for p in [
        (17.5, -9.995113306, 7),
        (17.5, -9.995113306, 11),
        (19, -9.995113306, -12),
    ]]
    chamfer(chamfer2_edges, length=CHAMFER2_SIZE)

    # Sketch18 → Cut-Extrude7 (cut)
    with BuildSketch(Plane.XY.offset(11)):
        Polygon((21, -11.727164113), (22.5, -10.86113871), (22.5, -9.129087902), (21, -8.263062498), (19.5, -9.129087902), (19.5, -10.86113871), align=None)
    extrude(amount=-CUT_EXTRUDE7_DEPTH, mode=Mode.SUBTRACT)


with BuildPart() as body_3:
    # Mirror1: mirrored copy
    add(body_2.part.mirror(Plane(origin=(0, 0, 0), x_dir=(0, 0, 1), z_dir=(1, 0, 0))))


with BuildPart() as cirpattern1_1:
    # CirPattern1: pattern copy
    add(body_3.part.rotate(Axis((0, 0, 0), (1, 0, 0)), 1 * CIRPATTERN1_ANGLE / (CIRPATTERN1_COUNT - 1)))


solid = Compound([part.part, body_2.part, cirpattern1_1.part])
